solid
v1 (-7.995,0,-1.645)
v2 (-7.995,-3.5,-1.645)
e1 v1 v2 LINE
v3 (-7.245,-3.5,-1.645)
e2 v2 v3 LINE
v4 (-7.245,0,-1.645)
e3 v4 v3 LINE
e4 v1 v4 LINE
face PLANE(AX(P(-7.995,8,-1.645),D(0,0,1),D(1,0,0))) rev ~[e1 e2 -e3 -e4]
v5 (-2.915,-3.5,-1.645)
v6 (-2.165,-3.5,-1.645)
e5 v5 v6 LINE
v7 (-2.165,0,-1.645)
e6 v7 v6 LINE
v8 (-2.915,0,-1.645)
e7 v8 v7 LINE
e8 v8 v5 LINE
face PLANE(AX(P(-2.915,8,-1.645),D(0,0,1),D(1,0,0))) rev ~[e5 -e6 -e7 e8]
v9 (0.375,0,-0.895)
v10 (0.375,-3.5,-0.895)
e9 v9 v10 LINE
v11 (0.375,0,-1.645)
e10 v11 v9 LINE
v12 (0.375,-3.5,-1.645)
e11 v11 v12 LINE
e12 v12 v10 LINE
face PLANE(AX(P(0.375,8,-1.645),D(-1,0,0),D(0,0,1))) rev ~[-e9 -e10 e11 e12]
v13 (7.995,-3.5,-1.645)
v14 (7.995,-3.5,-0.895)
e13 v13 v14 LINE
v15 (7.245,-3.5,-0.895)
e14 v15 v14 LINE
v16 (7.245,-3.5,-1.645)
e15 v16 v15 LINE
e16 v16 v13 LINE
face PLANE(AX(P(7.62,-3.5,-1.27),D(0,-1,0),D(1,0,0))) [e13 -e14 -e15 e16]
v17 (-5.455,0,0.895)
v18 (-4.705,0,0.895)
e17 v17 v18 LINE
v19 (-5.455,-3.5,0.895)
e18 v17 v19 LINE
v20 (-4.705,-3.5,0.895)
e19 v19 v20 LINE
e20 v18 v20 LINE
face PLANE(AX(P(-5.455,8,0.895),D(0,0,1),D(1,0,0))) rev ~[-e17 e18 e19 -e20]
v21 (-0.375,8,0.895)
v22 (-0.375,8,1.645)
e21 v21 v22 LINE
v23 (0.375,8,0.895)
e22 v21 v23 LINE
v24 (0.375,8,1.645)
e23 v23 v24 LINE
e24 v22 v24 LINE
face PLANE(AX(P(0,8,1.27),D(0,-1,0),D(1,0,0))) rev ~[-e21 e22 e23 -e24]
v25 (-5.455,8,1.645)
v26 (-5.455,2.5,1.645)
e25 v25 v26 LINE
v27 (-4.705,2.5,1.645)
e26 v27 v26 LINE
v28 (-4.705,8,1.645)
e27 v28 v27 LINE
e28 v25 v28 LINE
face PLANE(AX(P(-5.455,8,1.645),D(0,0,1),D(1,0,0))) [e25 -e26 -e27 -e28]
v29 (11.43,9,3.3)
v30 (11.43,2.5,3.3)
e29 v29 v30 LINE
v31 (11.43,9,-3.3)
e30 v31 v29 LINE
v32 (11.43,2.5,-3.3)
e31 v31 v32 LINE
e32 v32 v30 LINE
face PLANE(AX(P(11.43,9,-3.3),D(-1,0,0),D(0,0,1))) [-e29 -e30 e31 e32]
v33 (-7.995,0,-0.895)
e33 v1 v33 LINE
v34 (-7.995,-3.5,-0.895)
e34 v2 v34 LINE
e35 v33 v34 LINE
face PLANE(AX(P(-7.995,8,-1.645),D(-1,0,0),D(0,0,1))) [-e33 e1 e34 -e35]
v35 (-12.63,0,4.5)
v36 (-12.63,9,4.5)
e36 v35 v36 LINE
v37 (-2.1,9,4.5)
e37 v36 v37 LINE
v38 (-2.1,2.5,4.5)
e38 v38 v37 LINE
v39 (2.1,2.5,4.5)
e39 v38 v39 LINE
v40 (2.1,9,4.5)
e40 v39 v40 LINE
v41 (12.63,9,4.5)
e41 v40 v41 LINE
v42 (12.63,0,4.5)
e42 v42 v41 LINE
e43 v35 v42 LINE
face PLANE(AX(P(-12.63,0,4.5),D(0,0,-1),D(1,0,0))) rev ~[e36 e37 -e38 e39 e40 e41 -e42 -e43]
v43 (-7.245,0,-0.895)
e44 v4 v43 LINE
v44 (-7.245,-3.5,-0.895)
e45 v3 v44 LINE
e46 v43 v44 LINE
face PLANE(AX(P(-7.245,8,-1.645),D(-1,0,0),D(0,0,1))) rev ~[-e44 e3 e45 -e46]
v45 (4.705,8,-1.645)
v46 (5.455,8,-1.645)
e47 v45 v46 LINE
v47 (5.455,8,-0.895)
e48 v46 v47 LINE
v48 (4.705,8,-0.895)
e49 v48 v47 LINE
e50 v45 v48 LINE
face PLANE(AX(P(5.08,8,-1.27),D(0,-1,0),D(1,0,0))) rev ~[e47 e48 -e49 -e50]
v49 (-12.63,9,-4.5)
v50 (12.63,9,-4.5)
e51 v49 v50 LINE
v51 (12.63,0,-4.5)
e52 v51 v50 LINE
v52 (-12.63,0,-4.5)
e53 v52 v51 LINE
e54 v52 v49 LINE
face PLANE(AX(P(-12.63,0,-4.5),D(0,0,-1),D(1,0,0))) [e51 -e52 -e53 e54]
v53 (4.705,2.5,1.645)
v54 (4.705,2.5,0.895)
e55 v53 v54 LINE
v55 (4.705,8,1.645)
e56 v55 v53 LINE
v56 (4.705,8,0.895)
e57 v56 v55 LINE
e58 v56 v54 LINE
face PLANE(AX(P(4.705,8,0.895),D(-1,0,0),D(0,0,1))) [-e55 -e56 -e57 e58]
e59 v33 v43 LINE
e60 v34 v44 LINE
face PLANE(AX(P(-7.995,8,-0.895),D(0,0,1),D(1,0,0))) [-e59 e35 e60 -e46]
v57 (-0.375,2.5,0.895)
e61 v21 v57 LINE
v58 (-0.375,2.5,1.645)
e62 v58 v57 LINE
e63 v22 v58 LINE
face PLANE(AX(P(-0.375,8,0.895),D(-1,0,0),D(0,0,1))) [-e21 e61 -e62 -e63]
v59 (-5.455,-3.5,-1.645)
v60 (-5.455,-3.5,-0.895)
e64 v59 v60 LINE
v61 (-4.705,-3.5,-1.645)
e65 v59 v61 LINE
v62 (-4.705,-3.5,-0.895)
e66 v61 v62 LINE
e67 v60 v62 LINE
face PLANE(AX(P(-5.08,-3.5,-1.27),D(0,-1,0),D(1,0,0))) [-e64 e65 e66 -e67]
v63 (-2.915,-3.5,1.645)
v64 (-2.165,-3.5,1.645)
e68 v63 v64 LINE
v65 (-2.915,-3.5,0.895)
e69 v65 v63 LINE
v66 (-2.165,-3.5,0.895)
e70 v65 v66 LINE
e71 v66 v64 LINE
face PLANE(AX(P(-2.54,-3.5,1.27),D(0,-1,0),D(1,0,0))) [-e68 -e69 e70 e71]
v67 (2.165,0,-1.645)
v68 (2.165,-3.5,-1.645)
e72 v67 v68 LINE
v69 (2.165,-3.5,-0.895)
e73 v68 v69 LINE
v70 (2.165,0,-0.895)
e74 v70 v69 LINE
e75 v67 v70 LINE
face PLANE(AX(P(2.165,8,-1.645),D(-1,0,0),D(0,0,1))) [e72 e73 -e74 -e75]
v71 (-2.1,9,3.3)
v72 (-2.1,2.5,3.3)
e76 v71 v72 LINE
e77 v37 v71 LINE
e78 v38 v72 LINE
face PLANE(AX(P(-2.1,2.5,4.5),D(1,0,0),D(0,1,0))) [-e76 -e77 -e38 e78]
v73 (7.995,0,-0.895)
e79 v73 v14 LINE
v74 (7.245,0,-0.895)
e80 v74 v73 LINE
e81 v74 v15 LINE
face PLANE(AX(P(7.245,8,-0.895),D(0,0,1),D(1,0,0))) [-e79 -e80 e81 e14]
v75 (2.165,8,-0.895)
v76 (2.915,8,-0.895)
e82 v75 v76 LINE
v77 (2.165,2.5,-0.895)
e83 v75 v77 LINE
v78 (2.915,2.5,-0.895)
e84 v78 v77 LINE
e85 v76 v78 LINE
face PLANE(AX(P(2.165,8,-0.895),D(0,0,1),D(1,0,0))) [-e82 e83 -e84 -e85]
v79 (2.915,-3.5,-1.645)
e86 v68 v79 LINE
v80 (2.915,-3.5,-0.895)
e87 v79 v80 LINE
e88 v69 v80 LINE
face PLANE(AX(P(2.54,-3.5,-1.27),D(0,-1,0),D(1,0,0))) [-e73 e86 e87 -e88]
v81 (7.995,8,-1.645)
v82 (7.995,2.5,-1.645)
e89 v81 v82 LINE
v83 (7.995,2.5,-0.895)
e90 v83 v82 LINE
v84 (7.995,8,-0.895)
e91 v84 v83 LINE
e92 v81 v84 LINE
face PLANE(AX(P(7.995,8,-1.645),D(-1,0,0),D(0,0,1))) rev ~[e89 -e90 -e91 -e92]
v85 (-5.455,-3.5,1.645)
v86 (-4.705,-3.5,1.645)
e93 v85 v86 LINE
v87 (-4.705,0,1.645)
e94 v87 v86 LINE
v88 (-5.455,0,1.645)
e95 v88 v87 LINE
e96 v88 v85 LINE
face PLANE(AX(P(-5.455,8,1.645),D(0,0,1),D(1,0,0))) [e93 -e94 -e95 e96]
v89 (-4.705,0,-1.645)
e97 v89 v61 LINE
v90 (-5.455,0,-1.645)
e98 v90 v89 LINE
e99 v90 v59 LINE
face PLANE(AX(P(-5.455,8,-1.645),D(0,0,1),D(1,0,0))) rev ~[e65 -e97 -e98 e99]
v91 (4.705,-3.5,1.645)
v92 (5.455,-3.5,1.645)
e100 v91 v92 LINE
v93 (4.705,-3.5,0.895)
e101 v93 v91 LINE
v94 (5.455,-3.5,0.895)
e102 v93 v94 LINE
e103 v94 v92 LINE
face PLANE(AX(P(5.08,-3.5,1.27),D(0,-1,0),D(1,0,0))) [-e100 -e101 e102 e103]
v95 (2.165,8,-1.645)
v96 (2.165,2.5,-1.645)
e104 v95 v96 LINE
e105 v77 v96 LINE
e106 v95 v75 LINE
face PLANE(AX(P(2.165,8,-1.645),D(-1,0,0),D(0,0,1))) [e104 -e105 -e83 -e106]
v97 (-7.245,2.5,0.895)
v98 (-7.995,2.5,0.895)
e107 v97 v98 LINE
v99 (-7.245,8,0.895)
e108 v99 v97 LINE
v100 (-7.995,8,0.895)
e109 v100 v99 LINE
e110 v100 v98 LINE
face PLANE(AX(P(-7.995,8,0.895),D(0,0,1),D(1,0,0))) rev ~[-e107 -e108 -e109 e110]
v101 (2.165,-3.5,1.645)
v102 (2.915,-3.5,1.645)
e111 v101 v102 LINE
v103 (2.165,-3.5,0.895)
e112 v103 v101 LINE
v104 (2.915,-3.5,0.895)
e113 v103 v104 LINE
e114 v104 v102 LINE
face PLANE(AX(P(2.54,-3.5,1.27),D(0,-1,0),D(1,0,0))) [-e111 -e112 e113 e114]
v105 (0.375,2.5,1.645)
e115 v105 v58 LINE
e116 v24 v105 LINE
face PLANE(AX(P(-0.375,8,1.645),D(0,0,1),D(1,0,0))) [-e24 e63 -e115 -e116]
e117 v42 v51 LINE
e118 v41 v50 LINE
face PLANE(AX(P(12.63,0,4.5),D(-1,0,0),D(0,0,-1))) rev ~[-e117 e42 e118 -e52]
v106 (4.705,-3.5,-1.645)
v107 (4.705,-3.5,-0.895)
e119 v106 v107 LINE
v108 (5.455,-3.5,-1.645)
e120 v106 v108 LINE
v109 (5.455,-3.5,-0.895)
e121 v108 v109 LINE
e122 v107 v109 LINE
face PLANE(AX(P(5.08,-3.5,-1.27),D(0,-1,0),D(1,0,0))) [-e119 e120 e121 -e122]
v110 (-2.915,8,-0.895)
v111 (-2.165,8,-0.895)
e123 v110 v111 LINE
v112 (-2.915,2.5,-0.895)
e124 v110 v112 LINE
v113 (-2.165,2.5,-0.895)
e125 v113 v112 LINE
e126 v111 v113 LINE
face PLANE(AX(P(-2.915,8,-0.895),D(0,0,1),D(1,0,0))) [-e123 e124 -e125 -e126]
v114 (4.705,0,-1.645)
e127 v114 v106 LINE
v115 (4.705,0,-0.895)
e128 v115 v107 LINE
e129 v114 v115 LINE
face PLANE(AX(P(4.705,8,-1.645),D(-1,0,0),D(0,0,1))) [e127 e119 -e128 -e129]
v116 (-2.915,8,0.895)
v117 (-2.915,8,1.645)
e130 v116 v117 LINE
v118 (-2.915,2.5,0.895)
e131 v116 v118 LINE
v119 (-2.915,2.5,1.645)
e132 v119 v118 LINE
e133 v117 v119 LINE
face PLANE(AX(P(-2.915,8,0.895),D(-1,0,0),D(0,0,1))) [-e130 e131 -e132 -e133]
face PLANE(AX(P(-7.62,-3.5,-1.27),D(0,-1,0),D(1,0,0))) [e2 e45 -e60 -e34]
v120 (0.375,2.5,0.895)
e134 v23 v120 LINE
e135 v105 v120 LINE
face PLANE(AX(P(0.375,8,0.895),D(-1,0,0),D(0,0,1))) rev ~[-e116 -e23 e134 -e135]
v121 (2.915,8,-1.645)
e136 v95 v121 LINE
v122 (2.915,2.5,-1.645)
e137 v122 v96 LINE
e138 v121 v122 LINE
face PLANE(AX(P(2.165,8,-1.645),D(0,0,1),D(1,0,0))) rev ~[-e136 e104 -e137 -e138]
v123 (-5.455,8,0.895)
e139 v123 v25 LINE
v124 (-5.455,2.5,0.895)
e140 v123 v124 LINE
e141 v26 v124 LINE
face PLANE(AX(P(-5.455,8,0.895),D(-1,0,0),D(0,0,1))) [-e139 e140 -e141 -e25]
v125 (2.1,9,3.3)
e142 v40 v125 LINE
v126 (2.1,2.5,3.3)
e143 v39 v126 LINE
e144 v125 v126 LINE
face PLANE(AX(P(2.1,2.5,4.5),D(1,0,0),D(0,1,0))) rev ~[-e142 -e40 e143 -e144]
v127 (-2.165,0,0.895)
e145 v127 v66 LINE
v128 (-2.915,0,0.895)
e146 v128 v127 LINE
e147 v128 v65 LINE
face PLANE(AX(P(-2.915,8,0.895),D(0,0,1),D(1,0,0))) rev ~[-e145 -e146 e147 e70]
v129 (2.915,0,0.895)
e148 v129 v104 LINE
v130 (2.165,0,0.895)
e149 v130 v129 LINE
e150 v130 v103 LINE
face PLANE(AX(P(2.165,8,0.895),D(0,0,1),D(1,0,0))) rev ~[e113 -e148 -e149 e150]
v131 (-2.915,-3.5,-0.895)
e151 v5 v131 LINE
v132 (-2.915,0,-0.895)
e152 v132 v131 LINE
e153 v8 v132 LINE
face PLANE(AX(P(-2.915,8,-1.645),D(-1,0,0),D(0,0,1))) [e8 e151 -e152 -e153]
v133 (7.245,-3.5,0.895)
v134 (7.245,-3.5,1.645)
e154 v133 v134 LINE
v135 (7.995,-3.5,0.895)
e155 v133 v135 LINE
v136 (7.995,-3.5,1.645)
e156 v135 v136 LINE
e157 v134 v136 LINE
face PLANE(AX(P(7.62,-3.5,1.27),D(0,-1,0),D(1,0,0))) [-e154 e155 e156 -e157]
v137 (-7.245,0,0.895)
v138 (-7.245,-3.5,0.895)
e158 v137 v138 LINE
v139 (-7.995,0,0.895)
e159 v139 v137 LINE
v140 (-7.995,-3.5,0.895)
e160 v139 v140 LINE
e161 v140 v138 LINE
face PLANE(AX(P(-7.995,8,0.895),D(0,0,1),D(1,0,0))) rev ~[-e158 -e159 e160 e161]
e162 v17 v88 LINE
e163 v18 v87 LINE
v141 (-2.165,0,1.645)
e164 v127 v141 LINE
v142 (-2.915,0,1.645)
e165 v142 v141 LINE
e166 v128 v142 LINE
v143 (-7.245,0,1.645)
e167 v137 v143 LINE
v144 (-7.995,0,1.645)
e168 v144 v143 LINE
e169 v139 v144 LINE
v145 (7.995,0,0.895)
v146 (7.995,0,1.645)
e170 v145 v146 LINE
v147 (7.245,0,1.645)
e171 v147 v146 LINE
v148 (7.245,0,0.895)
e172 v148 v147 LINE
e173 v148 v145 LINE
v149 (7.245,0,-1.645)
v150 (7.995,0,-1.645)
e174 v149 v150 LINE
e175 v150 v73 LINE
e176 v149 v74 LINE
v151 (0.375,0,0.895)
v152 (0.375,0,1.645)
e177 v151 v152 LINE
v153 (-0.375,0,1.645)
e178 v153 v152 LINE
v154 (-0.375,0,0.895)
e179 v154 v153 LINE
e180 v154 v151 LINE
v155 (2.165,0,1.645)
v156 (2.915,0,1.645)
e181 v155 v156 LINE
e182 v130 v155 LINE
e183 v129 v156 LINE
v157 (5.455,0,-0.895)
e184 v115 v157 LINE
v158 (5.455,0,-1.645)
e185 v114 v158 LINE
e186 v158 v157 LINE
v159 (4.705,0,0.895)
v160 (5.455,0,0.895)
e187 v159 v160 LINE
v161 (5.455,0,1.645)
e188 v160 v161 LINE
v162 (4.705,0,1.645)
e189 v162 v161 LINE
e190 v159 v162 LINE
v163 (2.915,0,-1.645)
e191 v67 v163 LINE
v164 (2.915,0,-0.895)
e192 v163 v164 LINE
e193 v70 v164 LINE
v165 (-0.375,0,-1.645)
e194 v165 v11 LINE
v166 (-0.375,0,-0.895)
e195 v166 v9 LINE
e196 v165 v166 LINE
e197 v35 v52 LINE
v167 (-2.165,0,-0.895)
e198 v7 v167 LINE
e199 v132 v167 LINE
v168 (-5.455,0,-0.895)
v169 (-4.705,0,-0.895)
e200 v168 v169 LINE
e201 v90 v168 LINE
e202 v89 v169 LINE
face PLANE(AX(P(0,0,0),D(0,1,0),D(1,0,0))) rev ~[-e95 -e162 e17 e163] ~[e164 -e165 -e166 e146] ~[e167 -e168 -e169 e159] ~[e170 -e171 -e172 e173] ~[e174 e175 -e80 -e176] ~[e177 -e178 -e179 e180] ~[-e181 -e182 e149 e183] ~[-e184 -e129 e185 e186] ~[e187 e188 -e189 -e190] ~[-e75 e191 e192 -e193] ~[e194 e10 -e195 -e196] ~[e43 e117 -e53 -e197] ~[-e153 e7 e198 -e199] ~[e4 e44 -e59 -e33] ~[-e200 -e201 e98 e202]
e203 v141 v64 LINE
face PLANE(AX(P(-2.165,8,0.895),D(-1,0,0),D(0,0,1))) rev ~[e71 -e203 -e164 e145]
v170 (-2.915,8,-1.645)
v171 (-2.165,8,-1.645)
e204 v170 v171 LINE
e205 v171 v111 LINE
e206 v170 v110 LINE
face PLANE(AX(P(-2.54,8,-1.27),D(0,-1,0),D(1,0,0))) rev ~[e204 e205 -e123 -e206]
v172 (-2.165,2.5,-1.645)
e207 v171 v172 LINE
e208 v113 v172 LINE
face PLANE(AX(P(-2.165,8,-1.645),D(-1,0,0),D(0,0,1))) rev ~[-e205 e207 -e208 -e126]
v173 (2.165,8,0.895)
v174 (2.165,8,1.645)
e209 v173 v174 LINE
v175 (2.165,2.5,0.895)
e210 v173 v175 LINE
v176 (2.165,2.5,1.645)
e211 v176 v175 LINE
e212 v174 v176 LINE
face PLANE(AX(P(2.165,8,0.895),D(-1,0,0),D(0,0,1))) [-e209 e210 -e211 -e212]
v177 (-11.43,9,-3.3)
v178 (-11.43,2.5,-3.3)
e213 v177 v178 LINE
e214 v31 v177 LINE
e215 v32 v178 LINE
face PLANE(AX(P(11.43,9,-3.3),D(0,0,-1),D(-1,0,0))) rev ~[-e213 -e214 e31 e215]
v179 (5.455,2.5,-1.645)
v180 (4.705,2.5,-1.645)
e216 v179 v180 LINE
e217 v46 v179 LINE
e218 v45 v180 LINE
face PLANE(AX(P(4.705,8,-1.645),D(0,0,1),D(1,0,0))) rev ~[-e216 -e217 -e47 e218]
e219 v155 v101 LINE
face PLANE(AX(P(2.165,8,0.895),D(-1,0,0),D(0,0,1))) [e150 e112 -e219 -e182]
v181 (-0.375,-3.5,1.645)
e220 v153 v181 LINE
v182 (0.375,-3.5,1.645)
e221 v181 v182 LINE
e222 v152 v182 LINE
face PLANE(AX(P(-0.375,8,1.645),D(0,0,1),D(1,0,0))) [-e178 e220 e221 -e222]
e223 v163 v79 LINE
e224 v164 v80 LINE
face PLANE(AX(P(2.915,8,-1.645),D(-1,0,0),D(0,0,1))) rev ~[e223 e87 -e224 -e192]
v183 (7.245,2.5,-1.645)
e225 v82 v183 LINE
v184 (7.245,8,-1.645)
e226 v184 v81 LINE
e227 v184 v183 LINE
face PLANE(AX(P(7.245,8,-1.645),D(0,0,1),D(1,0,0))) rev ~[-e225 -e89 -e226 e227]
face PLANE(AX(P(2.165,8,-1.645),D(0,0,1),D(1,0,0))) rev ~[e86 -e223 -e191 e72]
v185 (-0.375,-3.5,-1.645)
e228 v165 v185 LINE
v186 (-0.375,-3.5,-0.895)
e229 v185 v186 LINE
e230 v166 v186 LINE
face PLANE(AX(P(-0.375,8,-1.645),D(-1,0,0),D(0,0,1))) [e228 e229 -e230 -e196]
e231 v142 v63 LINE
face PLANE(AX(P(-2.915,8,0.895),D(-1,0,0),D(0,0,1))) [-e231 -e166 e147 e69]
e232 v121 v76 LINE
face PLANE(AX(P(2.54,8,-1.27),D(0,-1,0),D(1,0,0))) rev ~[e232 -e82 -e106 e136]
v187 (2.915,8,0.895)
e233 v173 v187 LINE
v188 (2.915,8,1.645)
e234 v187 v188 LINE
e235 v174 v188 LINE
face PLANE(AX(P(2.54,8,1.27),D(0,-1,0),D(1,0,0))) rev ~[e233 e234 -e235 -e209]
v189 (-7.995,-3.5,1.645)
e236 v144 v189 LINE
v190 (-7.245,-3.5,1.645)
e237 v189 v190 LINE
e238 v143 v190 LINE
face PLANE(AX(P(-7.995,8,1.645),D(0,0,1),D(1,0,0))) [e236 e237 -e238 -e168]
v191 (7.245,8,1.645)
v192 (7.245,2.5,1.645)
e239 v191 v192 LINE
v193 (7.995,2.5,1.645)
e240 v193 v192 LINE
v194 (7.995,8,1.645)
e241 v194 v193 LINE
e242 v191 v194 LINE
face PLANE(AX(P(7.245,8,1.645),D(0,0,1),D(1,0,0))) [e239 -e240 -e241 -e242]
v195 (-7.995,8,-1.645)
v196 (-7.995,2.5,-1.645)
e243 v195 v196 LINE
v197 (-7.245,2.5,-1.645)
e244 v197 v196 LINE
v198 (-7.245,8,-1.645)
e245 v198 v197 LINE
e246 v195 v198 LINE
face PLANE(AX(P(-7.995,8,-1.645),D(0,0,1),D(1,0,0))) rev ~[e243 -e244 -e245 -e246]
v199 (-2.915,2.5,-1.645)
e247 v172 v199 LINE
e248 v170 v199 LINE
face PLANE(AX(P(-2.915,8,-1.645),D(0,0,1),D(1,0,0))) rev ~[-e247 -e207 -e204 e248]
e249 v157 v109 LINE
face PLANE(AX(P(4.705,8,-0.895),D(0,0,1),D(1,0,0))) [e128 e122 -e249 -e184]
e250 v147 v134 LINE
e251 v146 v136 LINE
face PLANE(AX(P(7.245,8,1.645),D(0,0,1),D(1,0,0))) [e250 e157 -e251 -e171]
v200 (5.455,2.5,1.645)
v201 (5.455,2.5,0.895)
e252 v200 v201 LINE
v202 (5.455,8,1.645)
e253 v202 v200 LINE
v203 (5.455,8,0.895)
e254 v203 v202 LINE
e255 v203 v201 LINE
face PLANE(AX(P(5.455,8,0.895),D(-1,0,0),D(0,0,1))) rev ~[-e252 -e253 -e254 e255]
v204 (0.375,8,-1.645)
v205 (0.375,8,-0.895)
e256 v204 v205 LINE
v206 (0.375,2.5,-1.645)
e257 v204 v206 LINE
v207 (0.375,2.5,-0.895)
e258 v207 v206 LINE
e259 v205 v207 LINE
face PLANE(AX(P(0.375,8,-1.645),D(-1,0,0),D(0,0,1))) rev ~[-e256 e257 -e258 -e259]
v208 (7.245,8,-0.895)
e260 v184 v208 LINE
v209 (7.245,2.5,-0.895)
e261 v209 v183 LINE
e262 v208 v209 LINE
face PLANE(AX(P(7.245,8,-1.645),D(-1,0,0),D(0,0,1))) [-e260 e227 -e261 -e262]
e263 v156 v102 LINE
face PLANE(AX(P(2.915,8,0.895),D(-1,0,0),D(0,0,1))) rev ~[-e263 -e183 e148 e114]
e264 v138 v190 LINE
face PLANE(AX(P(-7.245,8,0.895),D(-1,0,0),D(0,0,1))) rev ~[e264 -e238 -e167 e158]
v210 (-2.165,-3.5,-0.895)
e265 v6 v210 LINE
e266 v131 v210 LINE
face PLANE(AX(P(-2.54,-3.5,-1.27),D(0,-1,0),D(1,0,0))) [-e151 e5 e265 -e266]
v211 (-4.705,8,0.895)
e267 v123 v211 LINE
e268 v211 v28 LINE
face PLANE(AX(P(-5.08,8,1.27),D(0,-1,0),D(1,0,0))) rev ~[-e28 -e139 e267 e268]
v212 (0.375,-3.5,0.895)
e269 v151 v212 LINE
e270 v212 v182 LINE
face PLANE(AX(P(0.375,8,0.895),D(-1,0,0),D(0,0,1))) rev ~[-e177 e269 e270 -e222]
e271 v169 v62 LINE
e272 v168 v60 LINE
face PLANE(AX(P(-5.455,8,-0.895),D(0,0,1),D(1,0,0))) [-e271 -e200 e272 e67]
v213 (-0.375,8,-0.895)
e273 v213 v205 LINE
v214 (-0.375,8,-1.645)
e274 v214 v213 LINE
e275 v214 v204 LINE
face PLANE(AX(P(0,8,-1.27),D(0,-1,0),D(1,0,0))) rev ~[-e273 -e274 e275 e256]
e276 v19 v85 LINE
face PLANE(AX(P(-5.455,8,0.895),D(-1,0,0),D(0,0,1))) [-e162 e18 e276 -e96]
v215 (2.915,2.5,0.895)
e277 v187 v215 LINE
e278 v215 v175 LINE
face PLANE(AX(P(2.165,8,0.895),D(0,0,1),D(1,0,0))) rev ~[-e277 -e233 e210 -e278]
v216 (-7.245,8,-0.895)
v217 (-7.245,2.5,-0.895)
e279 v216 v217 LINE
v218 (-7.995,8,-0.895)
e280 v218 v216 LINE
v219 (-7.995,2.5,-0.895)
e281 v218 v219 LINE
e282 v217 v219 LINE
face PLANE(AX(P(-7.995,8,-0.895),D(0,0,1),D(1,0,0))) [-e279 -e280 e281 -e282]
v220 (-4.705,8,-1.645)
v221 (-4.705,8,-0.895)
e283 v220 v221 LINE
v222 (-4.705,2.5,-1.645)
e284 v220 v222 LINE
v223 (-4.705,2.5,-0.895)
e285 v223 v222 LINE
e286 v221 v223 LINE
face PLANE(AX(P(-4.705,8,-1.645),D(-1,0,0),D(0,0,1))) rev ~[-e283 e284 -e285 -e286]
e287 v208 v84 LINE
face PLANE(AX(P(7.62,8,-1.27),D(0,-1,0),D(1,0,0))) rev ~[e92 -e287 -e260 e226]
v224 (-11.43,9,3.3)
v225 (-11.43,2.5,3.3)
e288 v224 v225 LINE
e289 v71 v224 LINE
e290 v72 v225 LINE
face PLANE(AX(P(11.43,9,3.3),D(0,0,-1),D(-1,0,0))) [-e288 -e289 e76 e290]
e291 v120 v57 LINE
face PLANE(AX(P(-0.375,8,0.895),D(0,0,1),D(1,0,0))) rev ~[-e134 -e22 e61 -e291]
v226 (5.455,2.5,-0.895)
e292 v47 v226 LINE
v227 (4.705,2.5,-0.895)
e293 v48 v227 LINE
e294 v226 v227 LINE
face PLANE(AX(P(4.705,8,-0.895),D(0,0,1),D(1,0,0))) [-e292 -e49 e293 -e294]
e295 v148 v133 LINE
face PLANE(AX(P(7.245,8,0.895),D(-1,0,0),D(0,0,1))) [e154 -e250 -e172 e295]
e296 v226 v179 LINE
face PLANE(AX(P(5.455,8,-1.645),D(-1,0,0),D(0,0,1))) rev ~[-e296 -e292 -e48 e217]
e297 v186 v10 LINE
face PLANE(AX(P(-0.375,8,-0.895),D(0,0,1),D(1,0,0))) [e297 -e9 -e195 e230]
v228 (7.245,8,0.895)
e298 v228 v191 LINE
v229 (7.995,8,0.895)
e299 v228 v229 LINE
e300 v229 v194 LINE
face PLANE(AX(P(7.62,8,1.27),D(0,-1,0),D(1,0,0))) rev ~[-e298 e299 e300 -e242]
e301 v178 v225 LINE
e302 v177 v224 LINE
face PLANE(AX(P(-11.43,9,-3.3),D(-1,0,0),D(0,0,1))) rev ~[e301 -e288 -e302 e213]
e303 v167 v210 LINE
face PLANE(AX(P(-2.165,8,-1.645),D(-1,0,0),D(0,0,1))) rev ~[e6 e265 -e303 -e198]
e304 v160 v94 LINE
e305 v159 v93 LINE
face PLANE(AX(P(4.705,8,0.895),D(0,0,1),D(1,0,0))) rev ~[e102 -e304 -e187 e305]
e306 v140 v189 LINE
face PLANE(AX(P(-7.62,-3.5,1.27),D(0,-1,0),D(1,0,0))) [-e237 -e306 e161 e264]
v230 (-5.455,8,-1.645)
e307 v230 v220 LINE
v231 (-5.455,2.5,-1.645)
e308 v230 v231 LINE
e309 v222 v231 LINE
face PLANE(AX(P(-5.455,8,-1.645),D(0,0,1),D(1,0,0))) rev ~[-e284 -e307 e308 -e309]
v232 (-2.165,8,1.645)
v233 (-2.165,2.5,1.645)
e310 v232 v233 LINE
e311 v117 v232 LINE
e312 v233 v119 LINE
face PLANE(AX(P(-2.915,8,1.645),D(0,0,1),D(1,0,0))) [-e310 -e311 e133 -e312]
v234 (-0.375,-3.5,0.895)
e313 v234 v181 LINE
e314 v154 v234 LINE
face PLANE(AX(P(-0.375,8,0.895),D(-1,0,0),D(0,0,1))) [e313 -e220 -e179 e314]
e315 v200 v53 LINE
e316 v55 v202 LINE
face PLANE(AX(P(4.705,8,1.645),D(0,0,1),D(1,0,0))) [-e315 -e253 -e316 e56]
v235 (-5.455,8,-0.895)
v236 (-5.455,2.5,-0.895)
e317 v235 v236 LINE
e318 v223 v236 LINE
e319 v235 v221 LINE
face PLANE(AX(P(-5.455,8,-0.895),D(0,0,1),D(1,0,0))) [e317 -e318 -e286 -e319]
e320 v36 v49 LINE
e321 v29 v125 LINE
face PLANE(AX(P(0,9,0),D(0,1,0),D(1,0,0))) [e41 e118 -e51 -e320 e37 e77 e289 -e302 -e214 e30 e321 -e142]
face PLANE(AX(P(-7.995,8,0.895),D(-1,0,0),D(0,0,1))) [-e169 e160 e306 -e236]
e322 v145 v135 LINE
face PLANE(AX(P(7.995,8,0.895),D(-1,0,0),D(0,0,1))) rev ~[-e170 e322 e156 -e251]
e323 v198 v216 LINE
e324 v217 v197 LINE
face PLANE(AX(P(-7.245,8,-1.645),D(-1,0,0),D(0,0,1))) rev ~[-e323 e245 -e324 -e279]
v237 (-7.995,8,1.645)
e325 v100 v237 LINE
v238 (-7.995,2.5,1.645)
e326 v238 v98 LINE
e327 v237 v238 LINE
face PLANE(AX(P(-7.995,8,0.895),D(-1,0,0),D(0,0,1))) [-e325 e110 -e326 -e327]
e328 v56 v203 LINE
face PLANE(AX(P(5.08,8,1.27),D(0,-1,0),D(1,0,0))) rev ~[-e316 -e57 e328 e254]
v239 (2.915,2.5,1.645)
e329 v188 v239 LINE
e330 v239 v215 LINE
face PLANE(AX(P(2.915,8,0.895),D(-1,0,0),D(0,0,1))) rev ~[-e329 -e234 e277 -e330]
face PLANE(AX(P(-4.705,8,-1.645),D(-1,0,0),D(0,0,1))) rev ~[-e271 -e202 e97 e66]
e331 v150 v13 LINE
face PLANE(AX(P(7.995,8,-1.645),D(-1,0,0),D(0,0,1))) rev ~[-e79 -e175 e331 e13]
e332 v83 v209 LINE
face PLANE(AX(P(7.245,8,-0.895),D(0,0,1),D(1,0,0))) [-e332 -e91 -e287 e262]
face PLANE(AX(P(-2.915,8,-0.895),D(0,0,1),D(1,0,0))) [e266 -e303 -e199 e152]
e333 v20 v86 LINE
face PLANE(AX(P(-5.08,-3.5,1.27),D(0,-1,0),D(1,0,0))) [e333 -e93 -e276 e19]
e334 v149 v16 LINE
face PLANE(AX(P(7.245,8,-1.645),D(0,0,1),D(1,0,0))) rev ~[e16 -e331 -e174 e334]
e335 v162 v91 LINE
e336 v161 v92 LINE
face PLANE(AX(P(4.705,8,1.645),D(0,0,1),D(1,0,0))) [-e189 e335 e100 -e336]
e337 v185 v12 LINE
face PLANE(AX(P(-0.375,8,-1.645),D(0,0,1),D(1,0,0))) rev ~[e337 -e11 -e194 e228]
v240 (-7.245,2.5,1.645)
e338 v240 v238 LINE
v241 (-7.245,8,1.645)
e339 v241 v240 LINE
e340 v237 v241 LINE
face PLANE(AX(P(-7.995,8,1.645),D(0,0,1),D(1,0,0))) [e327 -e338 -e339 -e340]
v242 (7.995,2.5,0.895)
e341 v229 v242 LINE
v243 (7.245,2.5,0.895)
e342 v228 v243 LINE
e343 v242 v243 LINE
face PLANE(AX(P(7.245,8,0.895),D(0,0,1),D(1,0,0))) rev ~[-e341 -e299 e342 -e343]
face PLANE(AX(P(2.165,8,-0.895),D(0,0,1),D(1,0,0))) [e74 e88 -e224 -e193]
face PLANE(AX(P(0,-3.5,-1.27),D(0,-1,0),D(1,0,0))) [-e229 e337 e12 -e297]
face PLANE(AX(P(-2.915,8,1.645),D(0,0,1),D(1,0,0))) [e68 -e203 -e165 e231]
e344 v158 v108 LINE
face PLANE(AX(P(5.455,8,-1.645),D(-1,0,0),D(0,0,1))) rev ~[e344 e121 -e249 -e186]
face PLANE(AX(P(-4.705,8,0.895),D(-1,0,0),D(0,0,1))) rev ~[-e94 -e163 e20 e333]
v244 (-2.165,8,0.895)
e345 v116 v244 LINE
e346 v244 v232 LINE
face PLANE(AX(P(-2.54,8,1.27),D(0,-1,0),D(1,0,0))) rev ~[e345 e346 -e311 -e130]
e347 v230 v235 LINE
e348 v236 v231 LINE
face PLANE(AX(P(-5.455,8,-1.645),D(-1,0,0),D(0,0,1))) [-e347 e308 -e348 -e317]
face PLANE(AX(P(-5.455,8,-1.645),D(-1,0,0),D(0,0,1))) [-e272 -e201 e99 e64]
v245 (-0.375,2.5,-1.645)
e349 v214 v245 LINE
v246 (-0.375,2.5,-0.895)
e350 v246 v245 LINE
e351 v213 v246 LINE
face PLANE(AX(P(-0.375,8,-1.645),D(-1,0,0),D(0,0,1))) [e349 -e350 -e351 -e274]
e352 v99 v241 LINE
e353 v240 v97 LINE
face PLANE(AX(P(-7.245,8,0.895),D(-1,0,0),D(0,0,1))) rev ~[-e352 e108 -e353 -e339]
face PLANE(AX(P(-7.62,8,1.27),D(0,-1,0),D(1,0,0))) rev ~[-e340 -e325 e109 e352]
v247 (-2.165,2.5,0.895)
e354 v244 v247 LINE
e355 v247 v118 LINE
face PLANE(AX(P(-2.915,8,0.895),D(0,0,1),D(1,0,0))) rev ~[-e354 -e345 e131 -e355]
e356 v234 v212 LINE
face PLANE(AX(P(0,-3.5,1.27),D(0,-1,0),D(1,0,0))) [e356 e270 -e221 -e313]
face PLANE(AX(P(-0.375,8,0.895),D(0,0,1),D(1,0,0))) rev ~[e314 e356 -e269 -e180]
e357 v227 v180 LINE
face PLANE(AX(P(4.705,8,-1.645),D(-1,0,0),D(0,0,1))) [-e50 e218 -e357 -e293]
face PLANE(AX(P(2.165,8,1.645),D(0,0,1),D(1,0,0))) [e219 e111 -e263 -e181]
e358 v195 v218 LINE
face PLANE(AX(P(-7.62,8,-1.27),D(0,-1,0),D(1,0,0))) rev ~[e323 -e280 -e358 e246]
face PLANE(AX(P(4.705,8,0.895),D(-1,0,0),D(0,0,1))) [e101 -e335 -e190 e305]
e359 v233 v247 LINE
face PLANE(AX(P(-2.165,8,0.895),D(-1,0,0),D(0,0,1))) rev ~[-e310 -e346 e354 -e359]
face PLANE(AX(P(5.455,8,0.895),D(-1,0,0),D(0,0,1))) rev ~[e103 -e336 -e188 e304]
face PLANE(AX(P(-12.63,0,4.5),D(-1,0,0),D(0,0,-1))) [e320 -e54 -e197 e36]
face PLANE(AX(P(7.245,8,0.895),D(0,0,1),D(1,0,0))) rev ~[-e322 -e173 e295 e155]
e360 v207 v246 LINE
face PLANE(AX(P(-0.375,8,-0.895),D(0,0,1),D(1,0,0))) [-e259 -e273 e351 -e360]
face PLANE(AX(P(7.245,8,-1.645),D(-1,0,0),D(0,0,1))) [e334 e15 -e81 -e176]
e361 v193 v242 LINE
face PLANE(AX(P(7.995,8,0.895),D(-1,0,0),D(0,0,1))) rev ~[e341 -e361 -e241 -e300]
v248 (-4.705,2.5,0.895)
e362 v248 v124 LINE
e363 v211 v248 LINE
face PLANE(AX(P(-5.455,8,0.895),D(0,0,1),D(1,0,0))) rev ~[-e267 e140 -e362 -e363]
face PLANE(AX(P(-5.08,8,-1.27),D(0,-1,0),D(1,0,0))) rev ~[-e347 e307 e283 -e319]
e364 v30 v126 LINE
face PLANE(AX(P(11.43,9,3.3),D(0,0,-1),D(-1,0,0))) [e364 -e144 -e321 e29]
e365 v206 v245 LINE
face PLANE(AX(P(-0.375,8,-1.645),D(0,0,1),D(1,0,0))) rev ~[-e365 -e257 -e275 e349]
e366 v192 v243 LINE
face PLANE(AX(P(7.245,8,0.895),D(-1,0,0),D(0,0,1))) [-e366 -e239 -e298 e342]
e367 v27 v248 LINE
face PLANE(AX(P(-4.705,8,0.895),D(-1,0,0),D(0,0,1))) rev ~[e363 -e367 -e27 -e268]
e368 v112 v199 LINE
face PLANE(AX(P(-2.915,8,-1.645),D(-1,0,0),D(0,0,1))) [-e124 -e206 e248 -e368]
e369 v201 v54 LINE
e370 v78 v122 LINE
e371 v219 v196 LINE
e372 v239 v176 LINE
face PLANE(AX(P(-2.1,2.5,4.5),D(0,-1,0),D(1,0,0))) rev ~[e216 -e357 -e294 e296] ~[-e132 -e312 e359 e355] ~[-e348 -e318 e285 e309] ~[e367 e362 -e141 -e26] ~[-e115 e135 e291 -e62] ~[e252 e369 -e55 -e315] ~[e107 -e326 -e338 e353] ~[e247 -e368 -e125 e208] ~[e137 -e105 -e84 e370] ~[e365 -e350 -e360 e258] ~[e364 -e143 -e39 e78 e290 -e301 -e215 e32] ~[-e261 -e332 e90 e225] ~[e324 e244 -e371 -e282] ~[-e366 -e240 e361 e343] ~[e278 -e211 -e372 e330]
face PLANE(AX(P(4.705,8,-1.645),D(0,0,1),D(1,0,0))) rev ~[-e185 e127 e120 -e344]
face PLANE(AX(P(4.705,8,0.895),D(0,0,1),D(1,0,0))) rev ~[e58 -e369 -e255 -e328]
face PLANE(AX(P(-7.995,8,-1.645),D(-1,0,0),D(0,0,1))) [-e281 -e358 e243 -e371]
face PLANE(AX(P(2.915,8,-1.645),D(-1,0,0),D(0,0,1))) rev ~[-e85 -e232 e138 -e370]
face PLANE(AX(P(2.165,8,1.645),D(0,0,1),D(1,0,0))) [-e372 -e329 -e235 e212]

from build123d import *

# Parameters (mm, degrees)
SKETCH_1_W           = 25.26
SKETCH_1_H           = 9
EXTRUDE_1_DEPTH      = 9
SKETCH_2_W           = 22.86
SKETCH_2_H           = 6.6
CUT_EXTRUDE_1_DEPTH  = 6.5
SKETCH_3_W           = 4.2
SKETCH_3_H           = 6.5
CUT_EXTRUDE_2_DEPTH  = 6.5
EXTRUDE_2_DEPTH      = 3.5
EXTRUDE_2_DEPTH_BACK = 8
SKETCH_5_W           = 0.75
SKETCH_5_H           = 0.75


with BuildPart() as part:
    # 草图1 → 拉伸1 (new body)
    with BuildSketch(Plane(origin=(0, 0, 0), x_dir=(1, 0, 0), z_dir=(0, 1, 0))):
        Rectangle(SKETCH_1_W, SKETCH_1_H)
    extrude(amount=EXTRUDE_1_DEPTH)

    # 草图2 → 切除-拉伸1 (cut)
    with BuildSketch(Plane(origin=(0, 9, 0), x_dir=(-1, 0, 0), z_dir=(0, 1, 0))):
        Rectangle(SKETCH_2_W, SKETCH_2_H)
    extrude(amount=-CUT_EXTRUDE_1_DEPTH, mode=Mode.SUBTRACT)

    # 草图3 → 切除-拉伸2 (cut)
    with BuildSketch(Plane.XY.offset(4.5)):
        with Locations((0, 5.75)):
            Rectangle(SKETCH_3_W, SKETCH_3_H)
    extrude(amount=-CUT_EXTRUDE_2_DEPTH, mode=Mode.SUBTRACT)

    # 草图5 → 拉伸2 (add, two sides: drawn at the far end of the back side and taken through both)
    with BuildSketch(Plane.XZ.offset(-EXTRUDE_2_DEPTH_BACK)):
        with Locations((0, 1.27)):
            Rectangle(SKETCH_5_W, SKETCH_5_H)
        with Locations((2.54, 1.27)):
            Rectangle(SKETCH_5_W, SKETCH_5_H)
        with Locations((5.08, 1.27)):
            Rectangle(SKETCH_5_W, SKETCH_5_H)
        with Locations((7.62, 1.27)):
            Rectangle(SKETCH_5_W, SKETCH_5_H)
        with Locations((-2.54, 1.27)):
            Rectangle(SKETCH_5_W, SKETCH_5_H)
        with Locations((-5.08, 1.27)):
            Rectangle(SKETCH_5_W, SKETCH_5_H)
        with Locations((-7.62, 1.27)):
            Rectangle(SKETCH_5_W, SKETCH_5_H)
        with Locations((-7.62, -1.27)):
            Rectangle(SKETCH_5_W, SKETCH_5_H)
        with Locations((-5.08, -1.27)):
            Rectangle(SKETCH_5_W, SKETCH_5_H)
        with Locations((-2.54, -1.27)):
            Rectangle(SKETCH_5_W, SKETCH_5_H)
        with Locations((7.62, -1.27)):
            Rectangle(SKETCH_5_W, SKETCH_5_H)
        with Locations((5.08, -1.27)):
            Rectangle(SKETCH_5_W, SKETCH_5_H)
        with Locations((2.54, -1.27)):
            Rectangle(SKETCH_5_W, SKETCH_5_H)
        with Locations((0, -1.27)):
            Rectangle(SKETCH_5_W, SKETCH_5_H)
    extrude(amount=EXTRUDE_2_DEPTH + EXTRUDE_2_DEPTH_BACK)


solid = part.part
